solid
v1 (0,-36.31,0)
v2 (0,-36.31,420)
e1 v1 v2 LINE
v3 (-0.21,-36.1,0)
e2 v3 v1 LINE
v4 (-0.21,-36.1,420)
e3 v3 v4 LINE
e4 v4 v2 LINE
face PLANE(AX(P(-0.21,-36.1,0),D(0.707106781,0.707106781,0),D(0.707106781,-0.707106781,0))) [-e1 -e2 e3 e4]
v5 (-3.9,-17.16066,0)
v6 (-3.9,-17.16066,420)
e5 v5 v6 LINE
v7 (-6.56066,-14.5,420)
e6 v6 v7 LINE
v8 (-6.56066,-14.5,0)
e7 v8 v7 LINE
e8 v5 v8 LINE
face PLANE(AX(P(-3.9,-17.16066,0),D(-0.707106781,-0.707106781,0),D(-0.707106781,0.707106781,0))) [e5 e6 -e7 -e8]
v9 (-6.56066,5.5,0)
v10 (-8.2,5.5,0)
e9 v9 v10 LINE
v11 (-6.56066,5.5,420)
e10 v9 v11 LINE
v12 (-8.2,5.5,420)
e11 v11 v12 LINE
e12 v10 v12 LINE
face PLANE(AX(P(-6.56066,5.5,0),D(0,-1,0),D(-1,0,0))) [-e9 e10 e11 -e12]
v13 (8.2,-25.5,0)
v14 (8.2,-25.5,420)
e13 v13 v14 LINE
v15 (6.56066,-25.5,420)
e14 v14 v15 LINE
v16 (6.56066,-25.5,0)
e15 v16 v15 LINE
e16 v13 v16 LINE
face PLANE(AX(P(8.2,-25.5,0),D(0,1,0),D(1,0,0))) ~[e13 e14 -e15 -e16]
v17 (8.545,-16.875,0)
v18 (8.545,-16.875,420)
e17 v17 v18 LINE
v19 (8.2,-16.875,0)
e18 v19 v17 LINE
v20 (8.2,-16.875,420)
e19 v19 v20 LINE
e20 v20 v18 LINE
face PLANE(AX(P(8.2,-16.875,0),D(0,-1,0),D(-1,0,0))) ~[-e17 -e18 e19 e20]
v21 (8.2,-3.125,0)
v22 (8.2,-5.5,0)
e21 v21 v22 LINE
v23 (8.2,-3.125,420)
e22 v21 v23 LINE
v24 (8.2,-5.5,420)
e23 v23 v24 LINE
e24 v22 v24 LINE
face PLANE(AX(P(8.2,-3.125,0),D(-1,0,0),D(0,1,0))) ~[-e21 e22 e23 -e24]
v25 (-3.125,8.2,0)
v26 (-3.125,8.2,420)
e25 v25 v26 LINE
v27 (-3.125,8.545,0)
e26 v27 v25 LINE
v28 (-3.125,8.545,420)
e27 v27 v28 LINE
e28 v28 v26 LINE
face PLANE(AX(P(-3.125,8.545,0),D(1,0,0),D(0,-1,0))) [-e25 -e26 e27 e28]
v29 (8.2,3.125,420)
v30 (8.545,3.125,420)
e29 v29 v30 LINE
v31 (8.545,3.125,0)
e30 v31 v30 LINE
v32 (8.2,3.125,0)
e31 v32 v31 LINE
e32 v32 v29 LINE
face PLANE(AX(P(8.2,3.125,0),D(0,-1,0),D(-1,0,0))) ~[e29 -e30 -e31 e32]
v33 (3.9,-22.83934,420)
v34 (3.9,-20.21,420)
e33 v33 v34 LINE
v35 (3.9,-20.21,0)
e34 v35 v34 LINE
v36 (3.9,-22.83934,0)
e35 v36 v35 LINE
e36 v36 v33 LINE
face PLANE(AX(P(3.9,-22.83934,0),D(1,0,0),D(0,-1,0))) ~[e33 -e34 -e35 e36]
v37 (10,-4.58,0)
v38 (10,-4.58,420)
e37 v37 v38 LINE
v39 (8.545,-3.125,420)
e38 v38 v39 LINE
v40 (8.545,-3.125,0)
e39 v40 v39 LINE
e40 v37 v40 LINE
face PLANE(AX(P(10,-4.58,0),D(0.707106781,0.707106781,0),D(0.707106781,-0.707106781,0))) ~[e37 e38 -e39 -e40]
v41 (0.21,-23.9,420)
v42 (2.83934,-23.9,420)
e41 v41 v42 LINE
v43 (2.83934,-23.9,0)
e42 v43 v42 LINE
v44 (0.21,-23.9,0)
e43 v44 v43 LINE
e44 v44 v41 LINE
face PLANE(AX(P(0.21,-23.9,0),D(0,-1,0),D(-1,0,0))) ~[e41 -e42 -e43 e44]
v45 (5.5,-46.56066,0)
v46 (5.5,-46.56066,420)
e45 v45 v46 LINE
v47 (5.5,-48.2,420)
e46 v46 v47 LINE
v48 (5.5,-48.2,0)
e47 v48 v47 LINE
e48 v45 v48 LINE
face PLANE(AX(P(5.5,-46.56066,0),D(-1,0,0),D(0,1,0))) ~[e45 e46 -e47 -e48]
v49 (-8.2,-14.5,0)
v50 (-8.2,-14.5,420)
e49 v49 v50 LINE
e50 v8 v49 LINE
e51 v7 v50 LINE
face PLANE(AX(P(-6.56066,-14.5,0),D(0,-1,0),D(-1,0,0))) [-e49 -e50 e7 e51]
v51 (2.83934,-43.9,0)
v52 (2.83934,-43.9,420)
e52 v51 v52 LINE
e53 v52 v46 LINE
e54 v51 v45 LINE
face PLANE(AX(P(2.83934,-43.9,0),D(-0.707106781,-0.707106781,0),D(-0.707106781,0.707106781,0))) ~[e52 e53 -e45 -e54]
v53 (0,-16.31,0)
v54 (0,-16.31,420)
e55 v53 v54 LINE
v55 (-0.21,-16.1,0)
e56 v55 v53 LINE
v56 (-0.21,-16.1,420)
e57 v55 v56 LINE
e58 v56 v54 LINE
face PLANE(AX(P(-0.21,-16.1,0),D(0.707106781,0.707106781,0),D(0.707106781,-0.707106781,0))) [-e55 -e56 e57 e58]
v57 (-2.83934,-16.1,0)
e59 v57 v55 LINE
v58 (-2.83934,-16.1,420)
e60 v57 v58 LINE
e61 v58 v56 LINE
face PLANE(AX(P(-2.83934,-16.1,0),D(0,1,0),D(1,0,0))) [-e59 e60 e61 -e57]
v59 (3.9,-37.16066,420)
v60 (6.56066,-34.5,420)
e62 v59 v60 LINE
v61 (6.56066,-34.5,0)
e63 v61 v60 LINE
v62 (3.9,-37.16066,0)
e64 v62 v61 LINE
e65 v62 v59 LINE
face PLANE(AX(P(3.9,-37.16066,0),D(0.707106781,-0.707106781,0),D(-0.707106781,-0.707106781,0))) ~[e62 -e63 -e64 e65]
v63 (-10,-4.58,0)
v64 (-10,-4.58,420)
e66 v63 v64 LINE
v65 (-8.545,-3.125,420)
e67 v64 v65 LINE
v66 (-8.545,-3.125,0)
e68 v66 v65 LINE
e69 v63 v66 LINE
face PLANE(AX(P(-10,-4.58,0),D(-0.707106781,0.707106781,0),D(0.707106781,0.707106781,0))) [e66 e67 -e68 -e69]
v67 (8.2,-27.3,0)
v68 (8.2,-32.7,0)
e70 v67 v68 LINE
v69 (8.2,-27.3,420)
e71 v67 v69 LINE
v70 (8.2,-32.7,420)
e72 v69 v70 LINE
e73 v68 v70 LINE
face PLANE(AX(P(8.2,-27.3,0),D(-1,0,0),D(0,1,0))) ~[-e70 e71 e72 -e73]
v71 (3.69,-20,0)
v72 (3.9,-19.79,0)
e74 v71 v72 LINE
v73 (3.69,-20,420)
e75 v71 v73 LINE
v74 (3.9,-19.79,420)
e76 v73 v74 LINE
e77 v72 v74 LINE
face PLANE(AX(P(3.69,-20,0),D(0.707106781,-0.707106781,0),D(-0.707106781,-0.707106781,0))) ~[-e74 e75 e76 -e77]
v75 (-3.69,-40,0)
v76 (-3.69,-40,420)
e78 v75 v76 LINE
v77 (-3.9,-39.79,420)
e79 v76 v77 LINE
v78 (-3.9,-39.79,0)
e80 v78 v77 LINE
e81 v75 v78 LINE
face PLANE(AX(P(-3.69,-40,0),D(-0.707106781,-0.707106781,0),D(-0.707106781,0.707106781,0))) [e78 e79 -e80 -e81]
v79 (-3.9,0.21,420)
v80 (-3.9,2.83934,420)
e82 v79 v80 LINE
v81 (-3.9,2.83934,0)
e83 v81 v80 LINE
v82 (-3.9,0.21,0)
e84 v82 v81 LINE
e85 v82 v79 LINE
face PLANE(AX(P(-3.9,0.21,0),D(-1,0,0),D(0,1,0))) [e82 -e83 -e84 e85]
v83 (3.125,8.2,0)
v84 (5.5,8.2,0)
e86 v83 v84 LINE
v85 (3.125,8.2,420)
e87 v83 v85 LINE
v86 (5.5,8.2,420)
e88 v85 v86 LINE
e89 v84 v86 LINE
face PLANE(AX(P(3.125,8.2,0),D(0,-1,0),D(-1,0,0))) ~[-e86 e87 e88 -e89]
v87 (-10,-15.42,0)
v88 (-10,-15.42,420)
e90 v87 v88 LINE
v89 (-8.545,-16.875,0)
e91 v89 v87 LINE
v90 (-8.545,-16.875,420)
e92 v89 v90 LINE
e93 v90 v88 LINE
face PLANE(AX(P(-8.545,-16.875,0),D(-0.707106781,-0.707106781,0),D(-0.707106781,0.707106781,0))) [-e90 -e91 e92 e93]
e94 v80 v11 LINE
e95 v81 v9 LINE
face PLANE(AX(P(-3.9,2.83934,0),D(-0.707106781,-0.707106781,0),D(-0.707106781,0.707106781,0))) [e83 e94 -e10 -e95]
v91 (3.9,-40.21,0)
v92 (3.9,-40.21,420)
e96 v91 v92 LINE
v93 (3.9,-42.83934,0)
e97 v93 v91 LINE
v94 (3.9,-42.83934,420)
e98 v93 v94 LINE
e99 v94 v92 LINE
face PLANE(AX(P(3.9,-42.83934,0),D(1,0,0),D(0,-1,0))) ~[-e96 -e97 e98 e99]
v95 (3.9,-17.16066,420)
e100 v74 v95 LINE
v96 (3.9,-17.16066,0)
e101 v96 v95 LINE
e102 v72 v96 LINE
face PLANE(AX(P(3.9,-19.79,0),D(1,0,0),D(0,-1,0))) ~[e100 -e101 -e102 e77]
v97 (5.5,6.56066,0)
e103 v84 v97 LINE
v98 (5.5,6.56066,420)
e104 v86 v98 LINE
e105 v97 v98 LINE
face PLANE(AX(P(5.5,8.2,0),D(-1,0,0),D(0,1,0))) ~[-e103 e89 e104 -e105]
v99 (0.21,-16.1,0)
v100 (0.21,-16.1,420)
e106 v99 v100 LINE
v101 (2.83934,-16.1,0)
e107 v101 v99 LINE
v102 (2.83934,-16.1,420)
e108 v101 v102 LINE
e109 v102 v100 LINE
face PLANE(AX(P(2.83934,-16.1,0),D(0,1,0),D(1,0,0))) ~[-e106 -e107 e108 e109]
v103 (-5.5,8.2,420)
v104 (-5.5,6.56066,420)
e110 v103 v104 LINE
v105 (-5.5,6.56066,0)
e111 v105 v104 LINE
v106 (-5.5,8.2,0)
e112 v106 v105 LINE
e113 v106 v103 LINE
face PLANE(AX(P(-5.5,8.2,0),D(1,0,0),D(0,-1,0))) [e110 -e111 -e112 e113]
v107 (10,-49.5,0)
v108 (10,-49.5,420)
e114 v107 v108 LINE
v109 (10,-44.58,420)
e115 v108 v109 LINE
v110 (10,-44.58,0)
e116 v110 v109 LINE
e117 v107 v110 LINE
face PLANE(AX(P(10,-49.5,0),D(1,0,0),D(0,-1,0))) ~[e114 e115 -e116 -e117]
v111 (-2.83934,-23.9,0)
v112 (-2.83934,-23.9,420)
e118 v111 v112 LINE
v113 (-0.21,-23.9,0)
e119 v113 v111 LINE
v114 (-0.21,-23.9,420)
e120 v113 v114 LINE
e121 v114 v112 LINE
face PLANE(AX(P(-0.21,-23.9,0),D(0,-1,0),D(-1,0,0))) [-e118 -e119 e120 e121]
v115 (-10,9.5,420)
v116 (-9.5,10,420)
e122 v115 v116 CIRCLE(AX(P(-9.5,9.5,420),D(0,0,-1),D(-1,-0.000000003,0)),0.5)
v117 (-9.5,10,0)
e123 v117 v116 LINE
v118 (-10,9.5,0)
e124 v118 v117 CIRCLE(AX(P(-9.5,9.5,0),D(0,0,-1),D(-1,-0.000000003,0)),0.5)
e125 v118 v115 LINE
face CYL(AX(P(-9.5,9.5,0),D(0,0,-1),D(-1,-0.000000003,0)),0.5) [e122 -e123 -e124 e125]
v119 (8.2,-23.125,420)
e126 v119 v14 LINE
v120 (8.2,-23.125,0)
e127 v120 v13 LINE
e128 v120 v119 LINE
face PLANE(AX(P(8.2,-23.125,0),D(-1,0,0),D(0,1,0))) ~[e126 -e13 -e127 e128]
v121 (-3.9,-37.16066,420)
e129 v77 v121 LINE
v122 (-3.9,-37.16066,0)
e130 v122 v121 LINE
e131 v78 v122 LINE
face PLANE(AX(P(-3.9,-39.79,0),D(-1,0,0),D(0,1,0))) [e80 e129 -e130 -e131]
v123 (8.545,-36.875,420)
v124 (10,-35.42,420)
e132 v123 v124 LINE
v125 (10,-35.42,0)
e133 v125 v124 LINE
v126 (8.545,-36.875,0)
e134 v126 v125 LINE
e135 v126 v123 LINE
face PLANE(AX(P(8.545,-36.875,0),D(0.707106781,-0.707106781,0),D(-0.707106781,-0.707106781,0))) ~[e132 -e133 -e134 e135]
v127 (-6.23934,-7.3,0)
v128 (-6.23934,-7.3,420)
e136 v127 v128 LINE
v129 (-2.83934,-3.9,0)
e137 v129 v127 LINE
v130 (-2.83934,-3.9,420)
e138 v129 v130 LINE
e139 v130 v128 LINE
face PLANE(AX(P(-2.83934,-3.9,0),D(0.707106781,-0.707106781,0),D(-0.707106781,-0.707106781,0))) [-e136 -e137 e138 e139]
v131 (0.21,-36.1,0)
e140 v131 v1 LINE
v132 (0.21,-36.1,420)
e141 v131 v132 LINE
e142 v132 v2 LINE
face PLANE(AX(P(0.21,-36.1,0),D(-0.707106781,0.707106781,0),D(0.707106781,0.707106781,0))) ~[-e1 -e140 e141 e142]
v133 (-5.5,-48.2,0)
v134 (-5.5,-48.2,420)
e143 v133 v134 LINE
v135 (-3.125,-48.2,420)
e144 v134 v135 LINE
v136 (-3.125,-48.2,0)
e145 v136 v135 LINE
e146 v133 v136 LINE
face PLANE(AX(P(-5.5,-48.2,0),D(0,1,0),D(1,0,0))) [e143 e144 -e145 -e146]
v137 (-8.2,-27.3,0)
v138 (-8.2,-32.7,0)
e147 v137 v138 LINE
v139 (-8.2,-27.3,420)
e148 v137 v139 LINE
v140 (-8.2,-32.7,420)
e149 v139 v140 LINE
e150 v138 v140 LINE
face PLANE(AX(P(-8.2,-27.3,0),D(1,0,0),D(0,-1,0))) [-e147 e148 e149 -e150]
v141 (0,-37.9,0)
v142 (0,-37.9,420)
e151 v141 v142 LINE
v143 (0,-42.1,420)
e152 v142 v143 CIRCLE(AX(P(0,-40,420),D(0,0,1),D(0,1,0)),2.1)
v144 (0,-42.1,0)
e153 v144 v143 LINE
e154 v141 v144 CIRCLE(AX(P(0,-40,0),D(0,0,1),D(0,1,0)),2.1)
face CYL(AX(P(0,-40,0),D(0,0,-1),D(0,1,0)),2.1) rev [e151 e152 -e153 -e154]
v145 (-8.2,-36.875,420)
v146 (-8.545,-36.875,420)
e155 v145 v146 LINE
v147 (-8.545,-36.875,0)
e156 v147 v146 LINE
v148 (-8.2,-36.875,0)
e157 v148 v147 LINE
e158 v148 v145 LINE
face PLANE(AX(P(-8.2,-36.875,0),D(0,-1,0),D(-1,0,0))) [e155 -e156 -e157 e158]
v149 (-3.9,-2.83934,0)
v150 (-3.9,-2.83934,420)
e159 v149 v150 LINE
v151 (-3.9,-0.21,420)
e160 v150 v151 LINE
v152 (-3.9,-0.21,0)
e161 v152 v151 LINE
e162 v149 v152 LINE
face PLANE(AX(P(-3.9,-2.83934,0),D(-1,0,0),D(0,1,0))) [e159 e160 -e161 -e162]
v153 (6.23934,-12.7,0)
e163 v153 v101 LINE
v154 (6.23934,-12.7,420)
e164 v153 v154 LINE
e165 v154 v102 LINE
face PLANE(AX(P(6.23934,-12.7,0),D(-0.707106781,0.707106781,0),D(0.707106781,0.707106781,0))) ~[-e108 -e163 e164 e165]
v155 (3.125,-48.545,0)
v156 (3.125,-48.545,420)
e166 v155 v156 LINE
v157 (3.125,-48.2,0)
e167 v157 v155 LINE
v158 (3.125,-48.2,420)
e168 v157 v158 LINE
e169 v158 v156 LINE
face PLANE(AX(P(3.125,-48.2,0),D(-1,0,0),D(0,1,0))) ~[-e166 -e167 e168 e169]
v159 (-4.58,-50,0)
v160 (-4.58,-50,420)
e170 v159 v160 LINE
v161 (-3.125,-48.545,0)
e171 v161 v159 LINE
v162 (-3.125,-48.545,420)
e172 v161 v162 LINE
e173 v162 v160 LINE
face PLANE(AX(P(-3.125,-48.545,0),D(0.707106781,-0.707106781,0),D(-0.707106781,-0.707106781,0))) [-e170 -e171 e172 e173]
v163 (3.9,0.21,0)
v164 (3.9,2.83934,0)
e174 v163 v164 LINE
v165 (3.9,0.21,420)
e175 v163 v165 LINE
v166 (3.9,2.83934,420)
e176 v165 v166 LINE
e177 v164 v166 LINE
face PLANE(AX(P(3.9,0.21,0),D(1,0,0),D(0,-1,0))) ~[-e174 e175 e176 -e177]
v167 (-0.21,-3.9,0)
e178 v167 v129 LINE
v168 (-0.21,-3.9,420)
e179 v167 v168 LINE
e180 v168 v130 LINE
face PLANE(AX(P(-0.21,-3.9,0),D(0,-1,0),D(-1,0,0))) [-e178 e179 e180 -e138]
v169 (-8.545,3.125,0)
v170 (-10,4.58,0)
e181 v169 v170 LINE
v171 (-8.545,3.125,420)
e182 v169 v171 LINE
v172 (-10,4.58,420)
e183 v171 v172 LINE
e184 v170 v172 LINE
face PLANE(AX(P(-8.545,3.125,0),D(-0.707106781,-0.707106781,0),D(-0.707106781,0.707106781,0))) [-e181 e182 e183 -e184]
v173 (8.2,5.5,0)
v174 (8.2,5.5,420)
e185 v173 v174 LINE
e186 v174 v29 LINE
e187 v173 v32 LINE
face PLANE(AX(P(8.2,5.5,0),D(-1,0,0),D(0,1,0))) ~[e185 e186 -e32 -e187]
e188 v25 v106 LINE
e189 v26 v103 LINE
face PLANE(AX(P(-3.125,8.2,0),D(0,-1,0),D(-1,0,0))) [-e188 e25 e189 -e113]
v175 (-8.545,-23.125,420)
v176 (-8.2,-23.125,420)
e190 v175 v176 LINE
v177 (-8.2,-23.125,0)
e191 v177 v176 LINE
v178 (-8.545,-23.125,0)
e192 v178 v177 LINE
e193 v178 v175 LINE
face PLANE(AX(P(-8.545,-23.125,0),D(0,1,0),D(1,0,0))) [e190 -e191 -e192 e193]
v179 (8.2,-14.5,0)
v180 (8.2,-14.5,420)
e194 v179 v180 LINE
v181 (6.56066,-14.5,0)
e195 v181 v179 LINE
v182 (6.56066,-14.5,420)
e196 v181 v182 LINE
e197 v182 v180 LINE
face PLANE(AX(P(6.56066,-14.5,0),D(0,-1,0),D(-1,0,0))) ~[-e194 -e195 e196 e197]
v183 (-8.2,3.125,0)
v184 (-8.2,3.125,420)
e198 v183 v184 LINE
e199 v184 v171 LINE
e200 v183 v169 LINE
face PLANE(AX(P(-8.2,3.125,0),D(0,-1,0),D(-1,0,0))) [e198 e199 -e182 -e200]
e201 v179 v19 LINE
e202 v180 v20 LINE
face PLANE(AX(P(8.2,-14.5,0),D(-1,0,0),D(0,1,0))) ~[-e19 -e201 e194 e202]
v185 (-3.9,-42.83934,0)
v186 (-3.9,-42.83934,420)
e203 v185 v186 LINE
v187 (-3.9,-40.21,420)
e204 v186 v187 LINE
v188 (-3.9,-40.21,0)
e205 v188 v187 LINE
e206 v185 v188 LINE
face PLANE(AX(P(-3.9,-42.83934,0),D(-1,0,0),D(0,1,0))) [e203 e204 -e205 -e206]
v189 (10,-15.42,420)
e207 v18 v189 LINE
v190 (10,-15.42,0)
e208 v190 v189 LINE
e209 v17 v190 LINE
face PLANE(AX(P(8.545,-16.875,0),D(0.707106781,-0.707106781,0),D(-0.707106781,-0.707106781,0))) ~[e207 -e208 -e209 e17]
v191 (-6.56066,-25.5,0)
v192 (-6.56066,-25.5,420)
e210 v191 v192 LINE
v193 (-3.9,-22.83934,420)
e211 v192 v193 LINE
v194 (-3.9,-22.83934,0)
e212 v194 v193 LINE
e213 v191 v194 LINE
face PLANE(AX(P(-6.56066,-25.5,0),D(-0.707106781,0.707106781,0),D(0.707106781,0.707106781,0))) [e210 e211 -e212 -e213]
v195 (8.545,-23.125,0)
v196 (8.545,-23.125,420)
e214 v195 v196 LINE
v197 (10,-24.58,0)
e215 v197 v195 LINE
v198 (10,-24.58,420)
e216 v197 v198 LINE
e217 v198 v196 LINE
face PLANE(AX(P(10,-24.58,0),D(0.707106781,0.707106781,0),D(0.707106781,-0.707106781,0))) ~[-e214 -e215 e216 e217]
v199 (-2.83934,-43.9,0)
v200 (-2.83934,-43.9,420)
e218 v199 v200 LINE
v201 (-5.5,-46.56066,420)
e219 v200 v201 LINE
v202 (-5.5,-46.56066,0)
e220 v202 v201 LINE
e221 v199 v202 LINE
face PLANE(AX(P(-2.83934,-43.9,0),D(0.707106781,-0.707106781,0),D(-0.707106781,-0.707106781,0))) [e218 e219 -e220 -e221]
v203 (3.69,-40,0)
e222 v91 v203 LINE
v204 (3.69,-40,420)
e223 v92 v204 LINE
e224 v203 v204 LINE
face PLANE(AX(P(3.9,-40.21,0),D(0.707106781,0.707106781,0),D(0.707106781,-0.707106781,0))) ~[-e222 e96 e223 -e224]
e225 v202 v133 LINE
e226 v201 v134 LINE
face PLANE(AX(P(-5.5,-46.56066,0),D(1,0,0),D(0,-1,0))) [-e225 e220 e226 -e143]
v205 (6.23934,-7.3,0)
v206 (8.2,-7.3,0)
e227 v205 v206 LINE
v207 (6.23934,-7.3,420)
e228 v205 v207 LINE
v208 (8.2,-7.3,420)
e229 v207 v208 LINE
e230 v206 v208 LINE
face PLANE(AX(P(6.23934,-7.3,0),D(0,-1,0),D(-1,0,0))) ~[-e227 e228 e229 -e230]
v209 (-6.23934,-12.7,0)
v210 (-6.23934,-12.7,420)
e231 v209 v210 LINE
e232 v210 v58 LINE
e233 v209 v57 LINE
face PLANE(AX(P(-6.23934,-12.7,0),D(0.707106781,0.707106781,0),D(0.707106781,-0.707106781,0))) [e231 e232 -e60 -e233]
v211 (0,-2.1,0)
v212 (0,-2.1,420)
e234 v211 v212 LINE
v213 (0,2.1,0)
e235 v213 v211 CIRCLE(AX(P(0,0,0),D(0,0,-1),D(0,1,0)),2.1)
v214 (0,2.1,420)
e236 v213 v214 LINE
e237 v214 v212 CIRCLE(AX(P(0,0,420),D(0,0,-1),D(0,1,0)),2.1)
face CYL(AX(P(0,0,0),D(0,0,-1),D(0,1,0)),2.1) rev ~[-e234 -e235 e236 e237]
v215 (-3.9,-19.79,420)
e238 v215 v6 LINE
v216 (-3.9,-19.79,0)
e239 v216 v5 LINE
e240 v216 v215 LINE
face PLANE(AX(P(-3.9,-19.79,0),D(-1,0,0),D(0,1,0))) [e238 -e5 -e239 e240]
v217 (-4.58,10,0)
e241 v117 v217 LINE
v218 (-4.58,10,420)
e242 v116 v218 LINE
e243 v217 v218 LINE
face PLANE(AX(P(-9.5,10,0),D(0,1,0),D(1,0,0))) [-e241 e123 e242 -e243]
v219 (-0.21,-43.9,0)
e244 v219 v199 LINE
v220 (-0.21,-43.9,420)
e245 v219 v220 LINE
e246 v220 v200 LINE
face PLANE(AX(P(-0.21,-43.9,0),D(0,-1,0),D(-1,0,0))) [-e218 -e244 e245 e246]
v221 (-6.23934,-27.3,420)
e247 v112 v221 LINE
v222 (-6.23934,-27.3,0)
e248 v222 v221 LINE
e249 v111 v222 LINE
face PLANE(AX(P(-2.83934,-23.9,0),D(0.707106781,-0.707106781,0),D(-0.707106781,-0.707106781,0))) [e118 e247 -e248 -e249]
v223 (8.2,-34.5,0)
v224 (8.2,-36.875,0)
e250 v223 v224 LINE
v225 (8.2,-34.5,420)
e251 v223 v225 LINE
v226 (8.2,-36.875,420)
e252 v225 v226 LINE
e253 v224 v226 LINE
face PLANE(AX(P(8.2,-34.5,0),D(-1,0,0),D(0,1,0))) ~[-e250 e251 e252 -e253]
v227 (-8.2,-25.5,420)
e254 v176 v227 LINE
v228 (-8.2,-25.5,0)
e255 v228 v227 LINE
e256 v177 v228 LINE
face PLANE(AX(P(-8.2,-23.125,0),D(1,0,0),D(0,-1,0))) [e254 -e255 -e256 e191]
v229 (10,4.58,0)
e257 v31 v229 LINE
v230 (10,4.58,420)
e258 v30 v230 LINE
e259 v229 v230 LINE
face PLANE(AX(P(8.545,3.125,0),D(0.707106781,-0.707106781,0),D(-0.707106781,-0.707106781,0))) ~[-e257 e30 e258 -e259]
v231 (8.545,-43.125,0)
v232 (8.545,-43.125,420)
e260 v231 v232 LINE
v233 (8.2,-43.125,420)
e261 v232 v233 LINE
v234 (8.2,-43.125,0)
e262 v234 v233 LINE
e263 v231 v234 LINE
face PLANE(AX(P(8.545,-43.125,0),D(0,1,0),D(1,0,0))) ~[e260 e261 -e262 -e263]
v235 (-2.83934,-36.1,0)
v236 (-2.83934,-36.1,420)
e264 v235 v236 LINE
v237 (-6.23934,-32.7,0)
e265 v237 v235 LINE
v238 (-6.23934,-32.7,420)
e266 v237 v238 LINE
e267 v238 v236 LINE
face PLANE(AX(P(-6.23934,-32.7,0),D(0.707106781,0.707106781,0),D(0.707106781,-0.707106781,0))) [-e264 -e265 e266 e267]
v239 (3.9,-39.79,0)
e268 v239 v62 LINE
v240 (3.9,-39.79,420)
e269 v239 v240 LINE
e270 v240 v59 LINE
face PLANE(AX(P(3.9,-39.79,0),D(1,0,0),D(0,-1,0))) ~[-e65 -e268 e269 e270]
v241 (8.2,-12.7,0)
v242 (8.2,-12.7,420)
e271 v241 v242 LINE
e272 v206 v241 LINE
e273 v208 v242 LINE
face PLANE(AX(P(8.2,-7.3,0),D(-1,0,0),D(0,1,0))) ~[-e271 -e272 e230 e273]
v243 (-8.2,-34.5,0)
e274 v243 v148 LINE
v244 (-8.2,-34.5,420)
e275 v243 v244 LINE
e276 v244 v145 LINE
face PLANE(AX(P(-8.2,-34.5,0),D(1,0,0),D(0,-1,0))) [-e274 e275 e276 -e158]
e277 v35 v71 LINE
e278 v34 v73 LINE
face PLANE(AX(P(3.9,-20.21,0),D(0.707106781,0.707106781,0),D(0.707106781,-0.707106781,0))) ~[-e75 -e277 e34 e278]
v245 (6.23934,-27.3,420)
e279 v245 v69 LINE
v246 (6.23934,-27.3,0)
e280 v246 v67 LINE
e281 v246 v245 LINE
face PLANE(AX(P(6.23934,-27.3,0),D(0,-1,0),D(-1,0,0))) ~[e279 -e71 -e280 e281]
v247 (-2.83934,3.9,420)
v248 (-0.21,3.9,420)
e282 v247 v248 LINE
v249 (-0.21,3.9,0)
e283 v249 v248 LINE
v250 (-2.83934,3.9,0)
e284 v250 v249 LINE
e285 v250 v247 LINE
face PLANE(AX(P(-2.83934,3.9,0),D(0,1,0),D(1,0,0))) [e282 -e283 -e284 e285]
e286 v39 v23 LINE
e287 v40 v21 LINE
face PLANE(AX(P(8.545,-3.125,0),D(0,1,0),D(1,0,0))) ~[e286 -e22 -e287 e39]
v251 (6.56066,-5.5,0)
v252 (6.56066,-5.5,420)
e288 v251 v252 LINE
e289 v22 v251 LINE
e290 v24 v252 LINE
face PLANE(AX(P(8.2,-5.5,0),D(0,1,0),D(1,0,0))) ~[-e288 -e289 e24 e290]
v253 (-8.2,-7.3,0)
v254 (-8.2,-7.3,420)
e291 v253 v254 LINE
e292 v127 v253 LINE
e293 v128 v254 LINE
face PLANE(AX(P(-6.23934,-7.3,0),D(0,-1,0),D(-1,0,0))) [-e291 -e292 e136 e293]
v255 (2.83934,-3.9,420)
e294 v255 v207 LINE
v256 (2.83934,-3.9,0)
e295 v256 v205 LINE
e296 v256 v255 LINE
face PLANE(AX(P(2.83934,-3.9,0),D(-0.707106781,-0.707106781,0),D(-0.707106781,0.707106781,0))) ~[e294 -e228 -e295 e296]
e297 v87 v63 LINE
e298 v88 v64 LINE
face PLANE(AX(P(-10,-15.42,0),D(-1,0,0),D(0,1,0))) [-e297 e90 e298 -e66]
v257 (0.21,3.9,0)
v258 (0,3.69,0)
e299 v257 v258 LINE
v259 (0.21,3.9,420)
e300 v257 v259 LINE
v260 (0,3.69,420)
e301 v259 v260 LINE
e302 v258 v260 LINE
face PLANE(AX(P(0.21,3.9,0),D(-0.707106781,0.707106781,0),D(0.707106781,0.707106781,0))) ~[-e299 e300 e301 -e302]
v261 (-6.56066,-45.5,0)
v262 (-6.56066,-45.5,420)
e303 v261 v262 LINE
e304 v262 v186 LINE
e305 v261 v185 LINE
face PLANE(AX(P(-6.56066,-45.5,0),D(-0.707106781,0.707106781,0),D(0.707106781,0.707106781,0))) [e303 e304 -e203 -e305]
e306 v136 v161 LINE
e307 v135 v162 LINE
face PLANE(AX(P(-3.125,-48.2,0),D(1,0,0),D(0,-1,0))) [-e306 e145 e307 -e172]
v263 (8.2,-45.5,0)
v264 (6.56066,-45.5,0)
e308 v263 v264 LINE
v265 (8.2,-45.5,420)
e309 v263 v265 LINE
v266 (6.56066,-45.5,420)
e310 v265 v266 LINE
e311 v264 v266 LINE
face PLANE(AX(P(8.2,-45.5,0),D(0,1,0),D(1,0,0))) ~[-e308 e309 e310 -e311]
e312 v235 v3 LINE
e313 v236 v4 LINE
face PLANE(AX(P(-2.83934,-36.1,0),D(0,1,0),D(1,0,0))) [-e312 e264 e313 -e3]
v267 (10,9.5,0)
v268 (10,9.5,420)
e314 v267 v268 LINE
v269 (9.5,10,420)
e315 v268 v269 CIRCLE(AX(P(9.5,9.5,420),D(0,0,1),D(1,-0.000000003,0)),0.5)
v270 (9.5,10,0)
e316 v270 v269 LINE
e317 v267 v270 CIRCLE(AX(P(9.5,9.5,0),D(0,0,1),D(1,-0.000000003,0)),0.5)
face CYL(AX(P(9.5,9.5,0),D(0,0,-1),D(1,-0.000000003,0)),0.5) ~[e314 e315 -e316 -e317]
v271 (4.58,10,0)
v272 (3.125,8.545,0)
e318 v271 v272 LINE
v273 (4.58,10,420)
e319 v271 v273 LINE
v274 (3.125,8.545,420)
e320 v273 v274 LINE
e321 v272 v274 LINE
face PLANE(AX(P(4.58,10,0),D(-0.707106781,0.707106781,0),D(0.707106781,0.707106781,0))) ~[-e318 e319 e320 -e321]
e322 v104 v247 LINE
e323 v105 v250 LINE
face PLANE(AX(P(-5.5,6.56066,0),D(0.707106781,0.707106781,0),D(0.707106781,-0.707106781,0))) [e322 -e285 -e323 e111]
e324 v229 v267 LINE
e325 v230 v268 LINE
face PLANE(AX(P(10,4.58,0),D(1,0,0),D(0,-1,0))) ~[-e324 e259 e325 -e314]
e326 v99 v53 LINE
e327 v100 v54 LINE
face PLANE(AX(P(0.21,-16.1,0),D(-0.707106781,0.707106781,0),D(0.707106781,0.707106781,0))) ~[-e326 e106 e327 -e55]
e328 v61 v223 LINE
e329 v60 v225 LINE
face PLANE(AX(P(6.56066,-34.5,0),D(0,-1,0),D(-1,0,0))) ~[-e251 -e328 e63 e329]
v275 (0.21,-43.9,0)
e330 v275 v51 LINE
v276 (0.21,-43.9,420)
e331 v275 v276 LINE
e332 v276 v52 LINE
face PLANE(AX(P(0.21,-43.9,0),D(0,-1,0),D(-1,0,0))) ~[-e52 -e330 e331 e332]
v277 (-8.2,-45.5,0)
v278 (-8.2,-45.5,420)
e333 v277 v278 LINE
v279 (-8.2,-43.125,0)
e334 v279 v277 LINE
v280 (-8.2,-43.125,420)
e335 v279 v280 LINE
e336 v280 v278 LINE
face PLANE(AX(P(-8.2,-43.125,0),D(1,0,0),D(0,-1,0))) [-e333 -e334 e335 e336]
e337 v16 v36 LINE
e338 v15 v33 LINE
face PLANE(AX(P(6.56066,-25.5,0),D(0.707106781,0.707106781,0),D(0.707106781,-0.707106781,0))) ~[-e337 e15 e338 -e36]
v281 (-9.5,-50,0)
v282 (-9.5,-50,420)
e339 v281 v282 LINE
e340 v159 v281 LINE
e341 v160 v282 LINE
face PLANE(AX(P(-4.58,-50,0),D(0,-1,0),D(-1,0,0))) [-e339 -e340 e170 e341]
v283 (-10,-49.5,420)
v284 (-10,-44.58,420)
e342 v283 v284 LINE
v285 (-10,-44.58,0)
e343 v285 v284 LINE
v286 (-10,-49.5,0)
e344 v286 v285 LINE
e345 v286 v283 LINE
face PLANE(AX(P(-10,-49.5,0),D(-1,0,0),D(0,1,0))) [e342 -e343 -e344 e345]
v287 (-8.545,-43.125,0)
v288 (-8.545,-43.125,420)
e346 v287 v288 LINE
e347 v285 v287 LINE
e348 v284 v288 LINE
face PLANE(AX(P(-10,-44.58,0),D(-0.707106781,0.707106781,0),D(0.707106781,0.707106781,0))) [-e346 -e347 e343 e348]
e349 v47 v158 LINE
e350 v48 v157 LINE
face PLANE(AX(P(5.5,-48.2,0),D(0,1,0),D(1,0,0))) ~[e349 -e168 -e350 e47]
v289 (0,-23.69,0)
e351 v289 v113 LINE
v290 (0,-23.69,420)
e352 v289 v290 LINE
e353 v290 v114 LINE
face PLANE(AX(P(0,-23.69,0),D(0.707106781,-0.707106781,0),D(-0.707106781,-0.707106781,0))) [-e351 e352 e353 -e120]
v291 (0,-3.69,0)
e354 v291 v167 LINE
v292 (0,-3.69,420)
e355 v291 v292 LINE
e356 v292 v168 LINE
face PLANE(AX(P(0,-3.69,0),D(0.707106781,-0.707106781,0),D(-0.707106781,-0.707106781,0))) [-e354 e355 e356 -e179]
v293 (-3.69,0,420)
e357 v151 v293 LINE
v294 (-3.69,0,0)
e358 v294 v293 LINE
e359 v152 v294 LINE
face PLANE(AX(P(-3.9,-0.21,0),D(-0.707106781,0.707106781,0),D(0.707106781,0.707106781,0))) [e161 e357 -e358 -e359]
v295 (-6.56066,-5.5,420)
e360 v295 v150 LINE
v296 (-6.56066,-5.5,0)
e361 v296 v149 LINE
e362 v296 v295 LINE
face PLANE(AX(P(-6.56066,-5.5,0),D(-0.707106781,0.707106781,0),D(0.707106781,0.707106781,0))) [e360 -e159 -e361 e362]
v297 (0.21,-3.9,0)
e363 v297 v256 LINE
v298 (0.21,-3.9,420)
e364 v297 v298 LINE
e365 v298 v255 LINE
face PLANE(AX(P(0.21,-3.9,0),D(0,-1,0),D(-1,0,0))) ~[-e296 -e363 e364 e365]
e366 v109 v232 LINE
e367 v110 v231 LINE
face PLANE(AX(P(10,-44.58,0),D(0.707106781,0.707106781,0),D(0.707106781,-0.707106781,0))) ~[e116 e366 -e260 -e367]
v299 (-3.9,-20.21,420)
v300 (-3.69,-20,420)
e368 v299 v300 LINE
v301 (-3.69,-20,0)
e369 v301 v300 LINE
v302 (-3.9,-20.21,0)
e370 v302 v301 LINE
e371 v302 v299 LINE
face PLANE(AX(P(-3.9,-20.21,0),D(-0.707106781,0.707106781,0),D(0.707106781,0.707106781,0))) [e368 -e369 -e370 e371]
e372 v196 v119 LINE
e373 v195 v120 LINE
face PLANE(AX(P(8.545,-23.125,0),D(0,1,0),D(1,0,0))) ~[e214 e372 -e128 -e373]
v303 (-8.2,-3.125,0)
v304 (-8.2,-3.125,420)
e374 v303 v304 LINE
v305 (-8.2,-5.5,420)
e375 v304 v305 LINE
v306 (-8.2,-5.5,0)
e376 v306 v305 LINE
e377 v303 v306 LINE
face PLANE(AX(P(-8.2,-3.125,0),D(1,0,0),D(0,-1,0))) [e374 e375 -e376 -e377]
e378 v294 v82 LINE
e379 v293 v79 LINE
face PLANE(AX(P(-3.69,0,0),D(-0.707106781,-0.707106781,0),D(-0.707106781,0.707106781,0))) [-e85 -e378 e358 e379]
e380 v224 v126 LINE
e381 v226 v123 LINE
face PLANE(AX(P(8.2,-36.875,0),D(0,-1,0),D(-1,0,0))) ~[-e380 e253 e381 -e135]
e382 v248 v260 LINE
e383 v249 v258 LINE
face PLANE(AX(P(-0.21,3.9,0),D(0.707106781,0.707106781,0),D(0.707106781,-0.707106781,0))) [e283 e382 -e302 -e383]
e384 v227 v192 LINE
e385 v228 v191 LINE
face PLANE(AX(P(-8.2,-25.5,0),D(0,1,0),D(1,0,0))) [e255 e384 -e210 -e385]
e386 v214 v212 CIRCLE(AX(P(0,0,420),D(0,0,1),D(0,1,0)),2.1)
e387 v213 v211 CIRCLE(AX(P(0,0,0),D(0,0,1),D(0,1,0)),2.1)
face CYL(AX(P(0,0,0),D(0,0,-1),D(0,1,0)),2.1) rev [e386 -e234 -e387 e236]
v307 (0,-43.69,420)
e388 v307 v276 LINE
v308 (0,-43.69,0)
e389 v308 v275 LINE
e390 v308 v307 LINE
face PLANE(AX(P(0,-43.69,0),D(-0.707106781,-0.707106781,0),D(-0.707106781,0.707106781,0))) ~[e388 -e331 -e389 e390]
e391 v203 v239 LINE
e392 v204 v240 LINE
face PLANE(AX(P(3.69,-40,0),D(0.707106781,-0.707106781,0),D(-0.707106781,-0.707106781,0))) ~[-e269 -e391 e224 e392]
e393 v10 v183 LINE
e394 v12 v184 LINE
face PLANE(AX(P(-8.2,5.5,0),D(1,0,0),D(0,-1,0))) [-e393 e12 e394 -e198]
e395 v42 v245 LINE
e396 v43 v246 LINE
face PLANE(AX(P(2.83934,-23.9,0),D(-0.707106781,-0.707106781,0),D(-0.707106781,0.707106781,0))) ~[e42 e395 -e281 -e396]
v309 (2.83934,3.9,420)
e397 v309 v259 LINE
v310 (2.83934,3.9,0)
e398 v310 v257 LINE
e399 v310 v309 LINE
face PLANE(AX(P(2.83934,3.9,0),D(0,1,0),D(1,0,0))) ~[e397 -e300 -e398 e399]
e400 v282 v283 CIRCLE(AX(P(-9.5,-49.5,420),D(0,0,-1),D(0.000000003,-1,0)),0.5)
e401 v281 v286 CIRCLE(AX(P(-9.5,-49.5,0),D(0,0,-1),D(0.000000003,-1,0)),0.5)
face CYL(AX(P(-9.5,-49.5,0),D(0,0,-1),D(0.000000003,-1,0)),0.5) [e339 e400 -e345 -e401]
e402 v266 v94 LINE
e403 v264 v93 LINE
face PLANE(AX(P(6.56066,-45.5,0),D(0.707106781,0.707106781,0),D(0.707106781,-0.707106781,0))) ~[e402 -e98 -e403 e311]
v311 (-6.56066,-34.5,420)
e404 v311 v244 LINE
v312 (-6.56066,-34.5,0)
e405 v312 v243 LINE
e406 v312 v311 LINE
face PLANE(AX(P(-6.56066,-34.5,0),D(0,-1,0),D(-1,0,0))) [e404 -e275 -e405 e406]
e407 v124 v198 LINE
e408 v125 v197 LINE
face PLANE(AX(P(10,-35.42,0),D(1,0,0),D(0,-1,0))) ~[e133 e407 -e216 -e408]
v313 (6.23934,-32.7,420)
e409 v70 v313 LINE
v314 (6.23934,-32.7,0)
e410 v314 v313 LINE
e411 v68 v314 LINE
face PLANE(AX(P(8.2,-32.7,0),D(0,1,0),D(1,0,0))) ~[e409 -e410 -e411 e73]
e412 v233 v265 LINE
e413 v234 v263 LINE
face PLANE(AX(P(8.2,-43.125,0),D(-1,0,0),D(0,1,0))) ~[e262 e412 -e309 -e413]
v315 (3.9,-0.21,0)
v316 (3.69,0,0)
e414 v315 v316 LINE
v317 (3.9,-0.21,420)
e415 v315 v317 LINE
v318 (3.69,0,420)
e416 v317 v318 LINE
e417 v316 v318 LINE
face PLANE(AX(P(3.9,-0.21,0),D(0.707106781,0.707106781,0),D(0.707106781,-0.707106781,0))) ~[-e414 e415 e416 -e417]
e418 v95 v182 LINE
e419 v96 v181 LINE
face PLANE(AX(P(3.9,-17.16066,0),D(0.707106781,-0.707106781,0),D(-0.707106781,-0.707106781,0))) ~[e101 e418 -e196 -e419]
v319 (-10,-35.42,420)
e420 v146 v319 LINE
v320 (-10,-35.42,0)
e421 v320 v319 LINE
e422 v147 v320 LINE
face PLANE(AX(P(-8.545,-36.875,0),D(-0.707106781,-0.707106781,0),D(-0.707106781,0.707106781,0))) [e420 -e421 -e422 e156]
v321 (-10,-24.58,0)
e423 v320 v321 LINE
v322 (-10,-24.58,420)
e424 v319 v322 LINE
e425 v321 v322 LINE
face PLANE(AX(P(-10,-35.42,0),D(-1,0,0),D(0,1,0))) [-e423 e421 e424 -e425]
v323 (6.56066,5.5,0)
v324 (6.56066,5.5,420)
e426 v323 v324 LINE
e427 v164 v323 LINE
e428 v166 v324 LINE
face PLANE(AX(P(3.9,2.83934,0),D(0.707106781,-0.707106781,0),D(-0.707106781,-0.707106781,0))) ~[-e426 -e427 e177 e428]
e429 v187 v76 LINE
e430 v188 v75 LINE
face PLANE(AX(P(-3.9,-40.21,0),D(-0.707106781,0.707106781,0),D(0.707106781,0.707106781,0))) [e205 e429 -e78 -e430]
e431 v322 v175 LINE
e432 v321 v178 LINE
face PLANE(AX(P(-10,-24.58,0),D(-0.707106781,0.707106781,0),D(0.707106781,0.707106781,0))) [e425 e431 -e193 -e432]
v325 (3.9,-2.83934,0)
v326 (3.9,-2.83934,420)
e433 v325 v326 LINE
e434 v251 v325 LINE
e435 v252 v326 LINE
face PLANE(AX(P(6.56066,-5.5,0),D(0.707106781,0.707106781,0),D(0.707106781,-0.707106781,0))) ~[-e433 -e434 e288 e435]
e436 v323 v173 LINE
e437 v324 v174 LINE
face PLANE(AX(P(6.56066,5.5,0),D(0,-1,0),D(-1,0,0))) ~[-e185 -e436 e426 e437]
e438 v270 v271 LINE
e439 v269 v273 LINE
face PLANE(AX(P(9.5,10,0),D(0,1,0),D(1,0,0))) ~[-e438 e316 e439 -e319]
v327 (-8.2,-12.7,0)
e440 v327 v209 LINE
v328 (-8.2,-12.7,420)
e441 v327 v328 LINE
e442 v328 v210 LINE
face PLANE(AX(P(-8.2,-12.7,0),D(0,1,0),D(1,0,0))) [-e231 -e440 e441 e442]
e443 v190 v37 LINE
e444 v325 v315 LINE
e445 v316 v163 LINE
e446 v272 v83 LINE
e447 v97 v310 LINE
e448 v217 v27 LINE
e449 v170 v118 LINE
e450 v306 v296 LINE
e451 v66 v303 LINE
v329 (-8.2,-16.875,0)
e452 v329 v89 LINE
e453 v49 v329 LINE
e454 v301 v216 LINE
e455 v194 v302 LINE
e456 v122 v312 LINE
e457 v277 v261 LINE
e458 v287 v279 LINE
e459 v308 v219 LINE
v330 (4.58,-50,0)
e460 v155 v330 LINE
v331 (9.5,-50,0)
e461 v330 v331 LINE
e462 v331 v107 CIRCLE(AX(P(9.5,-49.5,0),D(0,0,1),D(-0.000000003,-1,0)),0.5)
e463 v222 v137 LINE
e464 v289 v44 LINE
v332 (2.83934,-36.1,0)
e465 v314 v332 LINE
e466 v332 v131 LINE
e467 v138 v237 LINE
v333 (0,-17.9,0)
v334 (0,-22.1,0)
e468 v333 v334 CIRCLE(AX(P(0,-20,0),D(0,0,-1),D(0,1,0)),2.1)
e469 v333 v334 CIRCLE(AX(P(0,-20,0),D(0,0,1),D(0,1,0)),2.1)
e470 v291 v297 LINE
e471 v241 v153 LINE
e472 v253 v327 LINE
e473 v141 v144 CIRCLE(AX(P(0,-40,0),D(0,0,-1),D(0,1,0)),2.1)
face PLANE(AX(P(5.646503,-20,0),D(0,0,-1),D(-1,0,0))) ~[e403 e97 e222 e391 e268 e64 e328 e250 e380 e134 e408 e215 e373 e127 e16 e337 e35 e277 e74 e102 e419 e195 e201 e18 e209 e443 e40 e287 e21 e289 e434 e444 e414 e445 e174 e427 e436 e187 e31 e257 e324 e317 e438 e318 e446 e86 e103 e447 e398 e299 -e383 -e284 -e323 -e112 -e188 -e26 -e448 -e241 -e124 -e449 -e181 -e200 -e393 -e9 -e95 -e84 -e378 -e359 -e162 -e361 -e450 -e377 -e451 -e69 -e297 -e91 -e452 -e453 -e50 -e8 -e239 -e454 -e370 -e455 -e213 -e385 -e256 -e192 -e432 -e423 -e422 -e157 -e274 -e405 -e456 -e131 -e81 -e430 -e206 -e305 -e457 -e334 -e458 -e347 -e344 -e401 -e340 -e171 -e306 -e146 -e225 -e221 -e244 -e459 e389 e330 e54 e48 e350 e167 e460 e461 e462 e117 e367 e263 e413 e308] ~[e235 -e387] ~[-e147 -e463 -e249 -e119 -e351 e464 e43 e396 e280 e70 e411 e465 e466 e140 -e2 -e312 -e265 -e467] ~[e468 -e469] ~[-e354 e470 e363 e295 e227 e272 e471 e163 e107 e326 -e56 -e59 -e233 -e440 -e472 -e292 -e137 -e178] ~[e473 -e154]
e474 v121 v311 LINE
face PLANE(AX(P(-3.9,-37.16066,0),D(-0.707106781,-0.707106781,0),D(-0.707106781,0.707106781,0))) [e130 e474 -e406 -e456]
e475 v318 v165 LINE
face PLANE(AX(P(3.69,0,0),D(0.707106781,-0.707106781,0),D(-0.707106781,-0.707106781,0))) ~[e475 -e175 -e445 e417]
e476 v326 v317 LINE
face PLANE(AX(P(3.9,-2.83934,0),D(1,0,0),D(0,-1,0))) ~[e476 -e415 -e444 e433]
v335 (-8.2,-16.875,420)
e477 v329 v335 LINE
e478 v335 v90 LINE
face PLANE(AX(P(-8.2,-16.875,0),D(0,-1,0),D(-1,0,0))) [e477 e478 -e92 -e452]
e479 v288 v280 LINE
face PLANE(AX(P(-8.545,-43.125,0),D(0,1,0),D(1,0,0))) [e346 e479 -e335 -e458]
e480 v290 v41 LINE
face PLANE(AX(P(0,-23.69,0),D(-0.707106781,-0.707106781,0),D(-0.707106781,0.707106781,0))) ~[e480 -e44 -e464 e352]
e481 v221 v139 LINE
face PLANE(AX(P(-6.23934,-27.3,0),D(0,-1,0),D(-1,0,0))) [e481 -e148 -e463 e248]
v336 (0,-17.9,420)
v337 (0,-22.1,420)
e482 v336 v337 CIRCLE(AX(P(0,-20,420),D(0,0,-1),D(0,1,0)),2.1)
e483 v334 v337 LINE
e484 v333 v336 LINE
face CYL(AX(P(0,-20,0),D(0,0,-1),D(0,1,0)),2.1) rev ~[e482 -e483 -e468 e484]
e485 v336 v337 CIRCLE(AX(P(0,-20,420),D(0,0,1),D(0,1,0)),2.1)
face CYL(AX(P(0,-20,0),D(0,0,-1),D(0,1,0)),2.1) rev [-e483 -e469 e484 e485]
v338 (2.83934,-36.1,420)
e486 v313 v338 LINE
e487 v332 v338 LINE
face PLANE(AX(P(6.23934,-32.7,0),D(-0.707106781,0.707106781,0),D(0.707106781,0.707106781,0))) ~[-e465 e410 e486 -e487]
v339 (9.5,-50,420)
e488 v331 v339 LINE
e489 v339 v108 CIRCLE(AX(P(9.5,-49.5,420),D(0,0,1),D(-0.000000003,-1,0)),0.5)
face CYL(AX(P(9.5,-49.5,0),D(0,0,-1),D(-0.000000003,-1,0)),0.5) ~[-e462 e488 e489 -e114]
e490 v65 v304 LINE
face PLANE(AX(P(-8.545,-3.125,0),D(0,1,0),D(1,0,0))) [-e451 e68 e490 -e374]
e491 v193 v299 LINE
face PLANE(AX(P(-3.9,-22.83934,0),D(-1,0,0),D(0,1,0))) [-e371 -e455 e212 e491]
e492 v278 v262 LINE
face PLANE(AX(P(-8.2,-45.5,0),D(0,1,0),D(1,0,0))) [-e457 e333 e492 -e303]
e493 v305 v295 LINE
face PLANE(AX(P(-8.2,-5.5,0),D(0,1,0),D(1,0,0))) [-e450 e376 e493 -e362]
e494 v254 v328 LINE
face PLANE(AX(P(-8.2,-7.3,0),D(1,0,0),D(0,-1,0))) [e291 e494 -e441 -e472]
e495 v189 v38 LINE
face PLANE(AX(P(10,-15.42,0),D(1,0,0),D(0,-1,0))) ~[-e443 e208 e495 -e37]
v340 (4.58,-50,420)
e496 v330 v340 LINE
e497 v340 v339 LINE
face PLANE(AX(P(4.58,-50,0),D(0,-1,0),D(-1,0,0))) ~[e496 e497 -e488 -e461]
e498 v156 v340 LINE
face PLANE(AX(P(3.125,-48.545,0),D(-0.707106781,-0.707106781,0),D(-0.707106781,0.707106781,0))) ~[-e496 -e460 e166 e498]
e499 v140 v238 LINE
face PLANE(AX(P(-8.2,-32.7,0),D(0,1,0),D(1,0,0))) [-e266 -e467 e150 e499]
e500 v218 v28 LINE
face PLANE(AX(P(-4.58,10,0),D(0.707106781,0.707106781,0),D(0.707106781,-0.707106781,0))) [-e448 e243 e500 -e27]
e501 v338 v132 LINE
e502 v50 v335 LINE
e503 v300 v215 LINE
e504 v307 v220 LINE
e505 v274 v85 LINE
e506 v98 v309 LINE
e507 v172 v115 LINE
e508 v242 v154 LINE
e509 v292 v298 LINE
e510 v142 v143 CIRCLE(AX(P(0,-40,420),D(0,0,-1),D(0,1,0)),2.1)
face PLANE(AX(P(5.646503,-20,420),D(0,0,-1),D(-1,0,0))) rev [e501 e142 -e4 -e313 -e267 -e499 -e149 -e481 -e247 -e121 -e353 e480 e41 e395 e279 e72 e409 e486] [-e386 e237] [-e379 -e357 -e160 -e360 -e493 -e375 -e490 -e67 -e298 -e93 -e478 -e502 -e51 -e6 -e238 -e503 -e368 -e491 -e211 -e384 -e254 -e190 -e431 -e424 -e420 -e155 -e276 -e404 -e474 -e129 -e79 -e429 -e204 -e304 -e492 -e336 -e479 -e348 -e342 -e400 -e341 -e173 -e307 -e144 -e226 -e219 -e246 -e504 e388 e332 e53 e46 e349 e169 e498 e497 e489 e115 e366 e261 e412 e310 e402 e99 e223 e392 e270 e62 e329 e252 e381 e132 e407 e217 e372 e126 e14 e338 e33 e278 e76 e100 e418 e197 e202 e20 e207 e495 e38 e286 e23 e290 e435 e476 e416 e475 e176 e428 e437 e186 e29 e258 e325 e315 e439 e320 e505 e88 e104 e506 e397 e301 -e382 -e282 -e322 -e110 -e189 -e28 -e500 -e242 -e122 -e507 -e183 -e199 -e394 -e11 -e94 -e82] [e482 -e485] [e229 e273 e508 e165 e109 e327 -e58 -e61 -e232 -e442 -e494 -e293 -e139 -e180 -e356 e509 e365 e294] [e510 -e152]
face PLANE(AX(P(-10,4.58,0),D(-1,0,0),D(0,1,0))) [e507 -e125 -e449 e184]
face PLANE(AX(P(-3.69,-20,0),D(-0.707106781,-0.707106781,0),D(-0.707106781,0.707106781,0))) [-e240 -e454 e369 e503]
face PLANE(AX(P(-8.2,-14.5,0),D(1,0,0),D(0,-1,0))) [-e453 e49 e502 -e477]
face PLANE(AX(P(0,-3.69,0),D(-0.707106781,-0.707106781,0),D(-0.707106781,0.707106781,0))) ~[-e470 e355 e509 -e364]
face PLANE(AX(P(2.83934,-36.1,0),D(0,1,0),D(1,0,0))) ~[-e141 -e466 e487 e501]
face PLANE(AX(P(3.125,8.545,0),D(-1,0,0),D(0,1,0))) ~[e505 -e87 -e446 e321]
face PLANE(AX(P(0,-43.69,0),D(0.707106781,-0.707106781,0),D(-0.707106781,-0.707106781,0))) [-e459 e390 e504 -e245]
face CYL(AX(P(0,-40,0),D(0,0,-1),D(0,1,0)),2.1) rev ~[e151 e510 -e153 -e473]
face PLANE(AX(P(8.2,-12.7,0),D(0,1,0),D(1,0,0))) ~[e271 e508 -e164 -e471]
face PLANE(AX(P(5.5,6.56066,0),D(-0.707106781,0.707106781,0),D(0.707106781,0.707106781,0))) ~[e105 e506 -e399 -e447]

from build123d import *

# Parameters (mm, degrees)
BOSS_EXTRU_1_DEPTH = 420


with BuildPart() as part:
    # Esquisse1 → Boss.-Extru.1 (new body)
    with BuildSketch(Plane.XY):
        with BuildLine():
            Line((-9.5, 10), (-4.58, 10))
            Line((-4.58, 10), (-3.125, 8.545))
            Line((-3.125, 8.545), (-3.125, 8.2))
            Line((-3.125, 8.2), (-5.5, 8.2))
            Line((-5.5, 8.2), (-5.5, 6.560660172))
            Line((-5.5, 6.560660172), (-2.839339828, 3.9))
            Line((-2.839339828, 3.9), (-0.21, 3.9))
            Line((-0.21, 3.9), (0, 3.69))
            Line((0, 3.69), (0, 2.1))
            ThreePointArc((0, 2.1), (-2.1, 0), (0, -2.1))
            Line((0, -2.1), (0, -3.69))
            Line((0, -3.69), (-0.21, -3.9))
            Line((-0.21, -3.9), (-2.839339828, -3.9))
            Line((-2.839339828, -3.9), (-6.239339828, -7.3))
            Line((-6.239339828, -7.3), (-8.2, -7.3))
            Line((-8.2, -7.3), (-8.2, -12.7))
            Line((-8.2, -12.7), (-6.239339828, -12.7))
            Line((-6.239339828, -12.7), (-2.839339828, -16.1))
            Line((-2.839339828, -16.1), (-0.21, -16.1))
            Line((-0.21, -16.1), (0, -16.31))
            Line((0, -16.31), (0, -17.9))
            ThreePointArc((0, -17.9), (-2.1, -20), (0, -22.1))
            Line((0, -22.1), (0, -23.69))
            Line((0, -23.69), (-0.21, -23.9))
            Line((-0.21, -23.9), (-2.839339828, -23.9))
            Line((-2.839339828, -23.9), (-6.239339828, -27.3))
            Line((-6.239339828, -27.3), (-8.2, -27.3))
            Line((-8.2, -27.3), (-8.2, -32.7))
            Line((-8.2, -32.7), (-6.239339828, -32.7))
            Line((-6.239339828, -32.7), (-2.839339828, -36.1))
            Line((-2.839339828, -36.1), (-0.21, -36.1))
            Line((-0.21, -36.1), (0, -36.31))
            Line((0, -36.31), (0, -37.9))
            ThreePointArc((0, -37.9), (-2.1, -40), (0, -42.1))
            Line((0, -42.1), (0, -43.69))
            Line((0, -43.69), (-0.21, -43.9))
            Line((-0.21, -43.9), (-2.839339828, -43.9))
            Line((-2.839339828, -43.9), (-5.5, -46.560660172))
            Line((-5.5, -46.560660172), (-5.5, -48.2))
            Line((-5.5, -48.2), (-3.125, -48.2))
            Line((-3.125, -48.2), (-3.125, -48.545))
            Line((-3.125, -48.545), (-4.58, -50))
            Line((-4.58, -50), (-9.5, -50))
            ThreePointArc((-9.5, -50), (-9.853553391, -49.853553391), (-10, -49.5))
            Line((-10, -49.5), (-10, -44.58))
            Line((-10, -44.58), (-8.545, -43.125))
            Line((-8.545, -43.125), (-8.2, -43.125))
            Line((-8.2, -43.125), (-8.2, -45.5))
            Line((-8.2, -45.5), (-6.560660172, -45.5))
            Line((-6.560660172, -45.5), (-3.9, -42.839339828))
            Line((-3.9, -42.839339828), (-3.9, -40.21))
            Line((-3.9, -40.21), (-3.69, -40))
            Line((-3.69, -40), (-3.9, -39.79))
            Line((-3.9, -39.79), (-3.9, -37.160660172))
            Line((-3.9, -37.160660172), (-6.560660172, -34.5))
            Line((-6.560660172, -34.5), (-8.2, -34.5))
            Line((-8.2, -34.5), (-8.2, -36.875))
            Line((-8.2, -36.875), (-8.545, -36.875))
            Line((-8.545, -36.875), (-10, -35.42))
            Line((-10, -35.42), (-10, -24.58))
            Line((-10, -24.58), (-8.545, -23.125))
            Line((-8.545, -23.125), (-8.2, -23.125))
            Line((-8.2, -23.125), (-8.2, -25.5))
            Line((-8.2, -25.5), (-6.560660172, -25.5))
            Line((-6.560660172, -25.5), (-3.9, -22.839339828))
            Line((-3.9, -22.839339828), (-3.9, -20.21))
            Line((-3.9, -20.21), (-3.69, -20))
            Line((-3.69, -20), (-3.9, -19.79))
            Line((-3.9, -19.79), (-3.9, -17.160660172))
            Line((-3.9, -17.160660172), (-6.560660172, -14.5))
            Line((-6.560660172, -14.5), (-8.2, -14.5))
            Line((-8.2, -14.5), (-8.2, -16.875))
            Line((-8.2, -16.875), (-8.545, -16.875))
            Line((-8.545, -16.875), (-10, -15.42))
            Line((-10, -15.42), (-10, -4.58))
            Line((-10, -4.58), (-8.545, -3.125))
            Line((-8.545, -3.125), (-8.2, -3.125))
            Line((-8.2, -3.125), (-8.2, -5.5))
            Line((-8.2, -5.5), (-6.560660172, -5.5))
            Line((-6.560660172, -5.5), (-3.9, -2.839339828))
            Line((-3.9, -2.839339828), (-3.9, -0.21))
            Line((-3.9, -0.21), (-3.69, 0))
            Line((-3.69, 0), (-3.9, 0.21))
            Line((-3.9, 0.21), (-3.9, 2.839339828))
            Line((-3.9, 2.839339828), (-6.560660172, 5.5))
            Line((-6.560660172, 5.5), (-8.2, 5.5))
            Line((-8.2, 5.5), (-8.2, 3.125))
            Line((-8.2, 3.125), (-8.545, 3.125))
            Line((-8.545, 3.125), (-10, 4.58))
            Line((-10, 4.58), (-10, 9.5))
            ThreePointArc((-10, 9.5), (-9.853553391, 9.853553391), (-9.5, 10))
        make_face()
    boss_extru_1 = extrude(amount=BOSS_EXTRU_1_DEPTH)

    # Symétrie1: Boss.-Extru.1 across plane
    add(boss_extru_1.mirror(Plane(origin=(0, 3.69, 420), x_dir=(0, 0, 1), z_dir=(-1, 0, 0))))


solid = part.part
